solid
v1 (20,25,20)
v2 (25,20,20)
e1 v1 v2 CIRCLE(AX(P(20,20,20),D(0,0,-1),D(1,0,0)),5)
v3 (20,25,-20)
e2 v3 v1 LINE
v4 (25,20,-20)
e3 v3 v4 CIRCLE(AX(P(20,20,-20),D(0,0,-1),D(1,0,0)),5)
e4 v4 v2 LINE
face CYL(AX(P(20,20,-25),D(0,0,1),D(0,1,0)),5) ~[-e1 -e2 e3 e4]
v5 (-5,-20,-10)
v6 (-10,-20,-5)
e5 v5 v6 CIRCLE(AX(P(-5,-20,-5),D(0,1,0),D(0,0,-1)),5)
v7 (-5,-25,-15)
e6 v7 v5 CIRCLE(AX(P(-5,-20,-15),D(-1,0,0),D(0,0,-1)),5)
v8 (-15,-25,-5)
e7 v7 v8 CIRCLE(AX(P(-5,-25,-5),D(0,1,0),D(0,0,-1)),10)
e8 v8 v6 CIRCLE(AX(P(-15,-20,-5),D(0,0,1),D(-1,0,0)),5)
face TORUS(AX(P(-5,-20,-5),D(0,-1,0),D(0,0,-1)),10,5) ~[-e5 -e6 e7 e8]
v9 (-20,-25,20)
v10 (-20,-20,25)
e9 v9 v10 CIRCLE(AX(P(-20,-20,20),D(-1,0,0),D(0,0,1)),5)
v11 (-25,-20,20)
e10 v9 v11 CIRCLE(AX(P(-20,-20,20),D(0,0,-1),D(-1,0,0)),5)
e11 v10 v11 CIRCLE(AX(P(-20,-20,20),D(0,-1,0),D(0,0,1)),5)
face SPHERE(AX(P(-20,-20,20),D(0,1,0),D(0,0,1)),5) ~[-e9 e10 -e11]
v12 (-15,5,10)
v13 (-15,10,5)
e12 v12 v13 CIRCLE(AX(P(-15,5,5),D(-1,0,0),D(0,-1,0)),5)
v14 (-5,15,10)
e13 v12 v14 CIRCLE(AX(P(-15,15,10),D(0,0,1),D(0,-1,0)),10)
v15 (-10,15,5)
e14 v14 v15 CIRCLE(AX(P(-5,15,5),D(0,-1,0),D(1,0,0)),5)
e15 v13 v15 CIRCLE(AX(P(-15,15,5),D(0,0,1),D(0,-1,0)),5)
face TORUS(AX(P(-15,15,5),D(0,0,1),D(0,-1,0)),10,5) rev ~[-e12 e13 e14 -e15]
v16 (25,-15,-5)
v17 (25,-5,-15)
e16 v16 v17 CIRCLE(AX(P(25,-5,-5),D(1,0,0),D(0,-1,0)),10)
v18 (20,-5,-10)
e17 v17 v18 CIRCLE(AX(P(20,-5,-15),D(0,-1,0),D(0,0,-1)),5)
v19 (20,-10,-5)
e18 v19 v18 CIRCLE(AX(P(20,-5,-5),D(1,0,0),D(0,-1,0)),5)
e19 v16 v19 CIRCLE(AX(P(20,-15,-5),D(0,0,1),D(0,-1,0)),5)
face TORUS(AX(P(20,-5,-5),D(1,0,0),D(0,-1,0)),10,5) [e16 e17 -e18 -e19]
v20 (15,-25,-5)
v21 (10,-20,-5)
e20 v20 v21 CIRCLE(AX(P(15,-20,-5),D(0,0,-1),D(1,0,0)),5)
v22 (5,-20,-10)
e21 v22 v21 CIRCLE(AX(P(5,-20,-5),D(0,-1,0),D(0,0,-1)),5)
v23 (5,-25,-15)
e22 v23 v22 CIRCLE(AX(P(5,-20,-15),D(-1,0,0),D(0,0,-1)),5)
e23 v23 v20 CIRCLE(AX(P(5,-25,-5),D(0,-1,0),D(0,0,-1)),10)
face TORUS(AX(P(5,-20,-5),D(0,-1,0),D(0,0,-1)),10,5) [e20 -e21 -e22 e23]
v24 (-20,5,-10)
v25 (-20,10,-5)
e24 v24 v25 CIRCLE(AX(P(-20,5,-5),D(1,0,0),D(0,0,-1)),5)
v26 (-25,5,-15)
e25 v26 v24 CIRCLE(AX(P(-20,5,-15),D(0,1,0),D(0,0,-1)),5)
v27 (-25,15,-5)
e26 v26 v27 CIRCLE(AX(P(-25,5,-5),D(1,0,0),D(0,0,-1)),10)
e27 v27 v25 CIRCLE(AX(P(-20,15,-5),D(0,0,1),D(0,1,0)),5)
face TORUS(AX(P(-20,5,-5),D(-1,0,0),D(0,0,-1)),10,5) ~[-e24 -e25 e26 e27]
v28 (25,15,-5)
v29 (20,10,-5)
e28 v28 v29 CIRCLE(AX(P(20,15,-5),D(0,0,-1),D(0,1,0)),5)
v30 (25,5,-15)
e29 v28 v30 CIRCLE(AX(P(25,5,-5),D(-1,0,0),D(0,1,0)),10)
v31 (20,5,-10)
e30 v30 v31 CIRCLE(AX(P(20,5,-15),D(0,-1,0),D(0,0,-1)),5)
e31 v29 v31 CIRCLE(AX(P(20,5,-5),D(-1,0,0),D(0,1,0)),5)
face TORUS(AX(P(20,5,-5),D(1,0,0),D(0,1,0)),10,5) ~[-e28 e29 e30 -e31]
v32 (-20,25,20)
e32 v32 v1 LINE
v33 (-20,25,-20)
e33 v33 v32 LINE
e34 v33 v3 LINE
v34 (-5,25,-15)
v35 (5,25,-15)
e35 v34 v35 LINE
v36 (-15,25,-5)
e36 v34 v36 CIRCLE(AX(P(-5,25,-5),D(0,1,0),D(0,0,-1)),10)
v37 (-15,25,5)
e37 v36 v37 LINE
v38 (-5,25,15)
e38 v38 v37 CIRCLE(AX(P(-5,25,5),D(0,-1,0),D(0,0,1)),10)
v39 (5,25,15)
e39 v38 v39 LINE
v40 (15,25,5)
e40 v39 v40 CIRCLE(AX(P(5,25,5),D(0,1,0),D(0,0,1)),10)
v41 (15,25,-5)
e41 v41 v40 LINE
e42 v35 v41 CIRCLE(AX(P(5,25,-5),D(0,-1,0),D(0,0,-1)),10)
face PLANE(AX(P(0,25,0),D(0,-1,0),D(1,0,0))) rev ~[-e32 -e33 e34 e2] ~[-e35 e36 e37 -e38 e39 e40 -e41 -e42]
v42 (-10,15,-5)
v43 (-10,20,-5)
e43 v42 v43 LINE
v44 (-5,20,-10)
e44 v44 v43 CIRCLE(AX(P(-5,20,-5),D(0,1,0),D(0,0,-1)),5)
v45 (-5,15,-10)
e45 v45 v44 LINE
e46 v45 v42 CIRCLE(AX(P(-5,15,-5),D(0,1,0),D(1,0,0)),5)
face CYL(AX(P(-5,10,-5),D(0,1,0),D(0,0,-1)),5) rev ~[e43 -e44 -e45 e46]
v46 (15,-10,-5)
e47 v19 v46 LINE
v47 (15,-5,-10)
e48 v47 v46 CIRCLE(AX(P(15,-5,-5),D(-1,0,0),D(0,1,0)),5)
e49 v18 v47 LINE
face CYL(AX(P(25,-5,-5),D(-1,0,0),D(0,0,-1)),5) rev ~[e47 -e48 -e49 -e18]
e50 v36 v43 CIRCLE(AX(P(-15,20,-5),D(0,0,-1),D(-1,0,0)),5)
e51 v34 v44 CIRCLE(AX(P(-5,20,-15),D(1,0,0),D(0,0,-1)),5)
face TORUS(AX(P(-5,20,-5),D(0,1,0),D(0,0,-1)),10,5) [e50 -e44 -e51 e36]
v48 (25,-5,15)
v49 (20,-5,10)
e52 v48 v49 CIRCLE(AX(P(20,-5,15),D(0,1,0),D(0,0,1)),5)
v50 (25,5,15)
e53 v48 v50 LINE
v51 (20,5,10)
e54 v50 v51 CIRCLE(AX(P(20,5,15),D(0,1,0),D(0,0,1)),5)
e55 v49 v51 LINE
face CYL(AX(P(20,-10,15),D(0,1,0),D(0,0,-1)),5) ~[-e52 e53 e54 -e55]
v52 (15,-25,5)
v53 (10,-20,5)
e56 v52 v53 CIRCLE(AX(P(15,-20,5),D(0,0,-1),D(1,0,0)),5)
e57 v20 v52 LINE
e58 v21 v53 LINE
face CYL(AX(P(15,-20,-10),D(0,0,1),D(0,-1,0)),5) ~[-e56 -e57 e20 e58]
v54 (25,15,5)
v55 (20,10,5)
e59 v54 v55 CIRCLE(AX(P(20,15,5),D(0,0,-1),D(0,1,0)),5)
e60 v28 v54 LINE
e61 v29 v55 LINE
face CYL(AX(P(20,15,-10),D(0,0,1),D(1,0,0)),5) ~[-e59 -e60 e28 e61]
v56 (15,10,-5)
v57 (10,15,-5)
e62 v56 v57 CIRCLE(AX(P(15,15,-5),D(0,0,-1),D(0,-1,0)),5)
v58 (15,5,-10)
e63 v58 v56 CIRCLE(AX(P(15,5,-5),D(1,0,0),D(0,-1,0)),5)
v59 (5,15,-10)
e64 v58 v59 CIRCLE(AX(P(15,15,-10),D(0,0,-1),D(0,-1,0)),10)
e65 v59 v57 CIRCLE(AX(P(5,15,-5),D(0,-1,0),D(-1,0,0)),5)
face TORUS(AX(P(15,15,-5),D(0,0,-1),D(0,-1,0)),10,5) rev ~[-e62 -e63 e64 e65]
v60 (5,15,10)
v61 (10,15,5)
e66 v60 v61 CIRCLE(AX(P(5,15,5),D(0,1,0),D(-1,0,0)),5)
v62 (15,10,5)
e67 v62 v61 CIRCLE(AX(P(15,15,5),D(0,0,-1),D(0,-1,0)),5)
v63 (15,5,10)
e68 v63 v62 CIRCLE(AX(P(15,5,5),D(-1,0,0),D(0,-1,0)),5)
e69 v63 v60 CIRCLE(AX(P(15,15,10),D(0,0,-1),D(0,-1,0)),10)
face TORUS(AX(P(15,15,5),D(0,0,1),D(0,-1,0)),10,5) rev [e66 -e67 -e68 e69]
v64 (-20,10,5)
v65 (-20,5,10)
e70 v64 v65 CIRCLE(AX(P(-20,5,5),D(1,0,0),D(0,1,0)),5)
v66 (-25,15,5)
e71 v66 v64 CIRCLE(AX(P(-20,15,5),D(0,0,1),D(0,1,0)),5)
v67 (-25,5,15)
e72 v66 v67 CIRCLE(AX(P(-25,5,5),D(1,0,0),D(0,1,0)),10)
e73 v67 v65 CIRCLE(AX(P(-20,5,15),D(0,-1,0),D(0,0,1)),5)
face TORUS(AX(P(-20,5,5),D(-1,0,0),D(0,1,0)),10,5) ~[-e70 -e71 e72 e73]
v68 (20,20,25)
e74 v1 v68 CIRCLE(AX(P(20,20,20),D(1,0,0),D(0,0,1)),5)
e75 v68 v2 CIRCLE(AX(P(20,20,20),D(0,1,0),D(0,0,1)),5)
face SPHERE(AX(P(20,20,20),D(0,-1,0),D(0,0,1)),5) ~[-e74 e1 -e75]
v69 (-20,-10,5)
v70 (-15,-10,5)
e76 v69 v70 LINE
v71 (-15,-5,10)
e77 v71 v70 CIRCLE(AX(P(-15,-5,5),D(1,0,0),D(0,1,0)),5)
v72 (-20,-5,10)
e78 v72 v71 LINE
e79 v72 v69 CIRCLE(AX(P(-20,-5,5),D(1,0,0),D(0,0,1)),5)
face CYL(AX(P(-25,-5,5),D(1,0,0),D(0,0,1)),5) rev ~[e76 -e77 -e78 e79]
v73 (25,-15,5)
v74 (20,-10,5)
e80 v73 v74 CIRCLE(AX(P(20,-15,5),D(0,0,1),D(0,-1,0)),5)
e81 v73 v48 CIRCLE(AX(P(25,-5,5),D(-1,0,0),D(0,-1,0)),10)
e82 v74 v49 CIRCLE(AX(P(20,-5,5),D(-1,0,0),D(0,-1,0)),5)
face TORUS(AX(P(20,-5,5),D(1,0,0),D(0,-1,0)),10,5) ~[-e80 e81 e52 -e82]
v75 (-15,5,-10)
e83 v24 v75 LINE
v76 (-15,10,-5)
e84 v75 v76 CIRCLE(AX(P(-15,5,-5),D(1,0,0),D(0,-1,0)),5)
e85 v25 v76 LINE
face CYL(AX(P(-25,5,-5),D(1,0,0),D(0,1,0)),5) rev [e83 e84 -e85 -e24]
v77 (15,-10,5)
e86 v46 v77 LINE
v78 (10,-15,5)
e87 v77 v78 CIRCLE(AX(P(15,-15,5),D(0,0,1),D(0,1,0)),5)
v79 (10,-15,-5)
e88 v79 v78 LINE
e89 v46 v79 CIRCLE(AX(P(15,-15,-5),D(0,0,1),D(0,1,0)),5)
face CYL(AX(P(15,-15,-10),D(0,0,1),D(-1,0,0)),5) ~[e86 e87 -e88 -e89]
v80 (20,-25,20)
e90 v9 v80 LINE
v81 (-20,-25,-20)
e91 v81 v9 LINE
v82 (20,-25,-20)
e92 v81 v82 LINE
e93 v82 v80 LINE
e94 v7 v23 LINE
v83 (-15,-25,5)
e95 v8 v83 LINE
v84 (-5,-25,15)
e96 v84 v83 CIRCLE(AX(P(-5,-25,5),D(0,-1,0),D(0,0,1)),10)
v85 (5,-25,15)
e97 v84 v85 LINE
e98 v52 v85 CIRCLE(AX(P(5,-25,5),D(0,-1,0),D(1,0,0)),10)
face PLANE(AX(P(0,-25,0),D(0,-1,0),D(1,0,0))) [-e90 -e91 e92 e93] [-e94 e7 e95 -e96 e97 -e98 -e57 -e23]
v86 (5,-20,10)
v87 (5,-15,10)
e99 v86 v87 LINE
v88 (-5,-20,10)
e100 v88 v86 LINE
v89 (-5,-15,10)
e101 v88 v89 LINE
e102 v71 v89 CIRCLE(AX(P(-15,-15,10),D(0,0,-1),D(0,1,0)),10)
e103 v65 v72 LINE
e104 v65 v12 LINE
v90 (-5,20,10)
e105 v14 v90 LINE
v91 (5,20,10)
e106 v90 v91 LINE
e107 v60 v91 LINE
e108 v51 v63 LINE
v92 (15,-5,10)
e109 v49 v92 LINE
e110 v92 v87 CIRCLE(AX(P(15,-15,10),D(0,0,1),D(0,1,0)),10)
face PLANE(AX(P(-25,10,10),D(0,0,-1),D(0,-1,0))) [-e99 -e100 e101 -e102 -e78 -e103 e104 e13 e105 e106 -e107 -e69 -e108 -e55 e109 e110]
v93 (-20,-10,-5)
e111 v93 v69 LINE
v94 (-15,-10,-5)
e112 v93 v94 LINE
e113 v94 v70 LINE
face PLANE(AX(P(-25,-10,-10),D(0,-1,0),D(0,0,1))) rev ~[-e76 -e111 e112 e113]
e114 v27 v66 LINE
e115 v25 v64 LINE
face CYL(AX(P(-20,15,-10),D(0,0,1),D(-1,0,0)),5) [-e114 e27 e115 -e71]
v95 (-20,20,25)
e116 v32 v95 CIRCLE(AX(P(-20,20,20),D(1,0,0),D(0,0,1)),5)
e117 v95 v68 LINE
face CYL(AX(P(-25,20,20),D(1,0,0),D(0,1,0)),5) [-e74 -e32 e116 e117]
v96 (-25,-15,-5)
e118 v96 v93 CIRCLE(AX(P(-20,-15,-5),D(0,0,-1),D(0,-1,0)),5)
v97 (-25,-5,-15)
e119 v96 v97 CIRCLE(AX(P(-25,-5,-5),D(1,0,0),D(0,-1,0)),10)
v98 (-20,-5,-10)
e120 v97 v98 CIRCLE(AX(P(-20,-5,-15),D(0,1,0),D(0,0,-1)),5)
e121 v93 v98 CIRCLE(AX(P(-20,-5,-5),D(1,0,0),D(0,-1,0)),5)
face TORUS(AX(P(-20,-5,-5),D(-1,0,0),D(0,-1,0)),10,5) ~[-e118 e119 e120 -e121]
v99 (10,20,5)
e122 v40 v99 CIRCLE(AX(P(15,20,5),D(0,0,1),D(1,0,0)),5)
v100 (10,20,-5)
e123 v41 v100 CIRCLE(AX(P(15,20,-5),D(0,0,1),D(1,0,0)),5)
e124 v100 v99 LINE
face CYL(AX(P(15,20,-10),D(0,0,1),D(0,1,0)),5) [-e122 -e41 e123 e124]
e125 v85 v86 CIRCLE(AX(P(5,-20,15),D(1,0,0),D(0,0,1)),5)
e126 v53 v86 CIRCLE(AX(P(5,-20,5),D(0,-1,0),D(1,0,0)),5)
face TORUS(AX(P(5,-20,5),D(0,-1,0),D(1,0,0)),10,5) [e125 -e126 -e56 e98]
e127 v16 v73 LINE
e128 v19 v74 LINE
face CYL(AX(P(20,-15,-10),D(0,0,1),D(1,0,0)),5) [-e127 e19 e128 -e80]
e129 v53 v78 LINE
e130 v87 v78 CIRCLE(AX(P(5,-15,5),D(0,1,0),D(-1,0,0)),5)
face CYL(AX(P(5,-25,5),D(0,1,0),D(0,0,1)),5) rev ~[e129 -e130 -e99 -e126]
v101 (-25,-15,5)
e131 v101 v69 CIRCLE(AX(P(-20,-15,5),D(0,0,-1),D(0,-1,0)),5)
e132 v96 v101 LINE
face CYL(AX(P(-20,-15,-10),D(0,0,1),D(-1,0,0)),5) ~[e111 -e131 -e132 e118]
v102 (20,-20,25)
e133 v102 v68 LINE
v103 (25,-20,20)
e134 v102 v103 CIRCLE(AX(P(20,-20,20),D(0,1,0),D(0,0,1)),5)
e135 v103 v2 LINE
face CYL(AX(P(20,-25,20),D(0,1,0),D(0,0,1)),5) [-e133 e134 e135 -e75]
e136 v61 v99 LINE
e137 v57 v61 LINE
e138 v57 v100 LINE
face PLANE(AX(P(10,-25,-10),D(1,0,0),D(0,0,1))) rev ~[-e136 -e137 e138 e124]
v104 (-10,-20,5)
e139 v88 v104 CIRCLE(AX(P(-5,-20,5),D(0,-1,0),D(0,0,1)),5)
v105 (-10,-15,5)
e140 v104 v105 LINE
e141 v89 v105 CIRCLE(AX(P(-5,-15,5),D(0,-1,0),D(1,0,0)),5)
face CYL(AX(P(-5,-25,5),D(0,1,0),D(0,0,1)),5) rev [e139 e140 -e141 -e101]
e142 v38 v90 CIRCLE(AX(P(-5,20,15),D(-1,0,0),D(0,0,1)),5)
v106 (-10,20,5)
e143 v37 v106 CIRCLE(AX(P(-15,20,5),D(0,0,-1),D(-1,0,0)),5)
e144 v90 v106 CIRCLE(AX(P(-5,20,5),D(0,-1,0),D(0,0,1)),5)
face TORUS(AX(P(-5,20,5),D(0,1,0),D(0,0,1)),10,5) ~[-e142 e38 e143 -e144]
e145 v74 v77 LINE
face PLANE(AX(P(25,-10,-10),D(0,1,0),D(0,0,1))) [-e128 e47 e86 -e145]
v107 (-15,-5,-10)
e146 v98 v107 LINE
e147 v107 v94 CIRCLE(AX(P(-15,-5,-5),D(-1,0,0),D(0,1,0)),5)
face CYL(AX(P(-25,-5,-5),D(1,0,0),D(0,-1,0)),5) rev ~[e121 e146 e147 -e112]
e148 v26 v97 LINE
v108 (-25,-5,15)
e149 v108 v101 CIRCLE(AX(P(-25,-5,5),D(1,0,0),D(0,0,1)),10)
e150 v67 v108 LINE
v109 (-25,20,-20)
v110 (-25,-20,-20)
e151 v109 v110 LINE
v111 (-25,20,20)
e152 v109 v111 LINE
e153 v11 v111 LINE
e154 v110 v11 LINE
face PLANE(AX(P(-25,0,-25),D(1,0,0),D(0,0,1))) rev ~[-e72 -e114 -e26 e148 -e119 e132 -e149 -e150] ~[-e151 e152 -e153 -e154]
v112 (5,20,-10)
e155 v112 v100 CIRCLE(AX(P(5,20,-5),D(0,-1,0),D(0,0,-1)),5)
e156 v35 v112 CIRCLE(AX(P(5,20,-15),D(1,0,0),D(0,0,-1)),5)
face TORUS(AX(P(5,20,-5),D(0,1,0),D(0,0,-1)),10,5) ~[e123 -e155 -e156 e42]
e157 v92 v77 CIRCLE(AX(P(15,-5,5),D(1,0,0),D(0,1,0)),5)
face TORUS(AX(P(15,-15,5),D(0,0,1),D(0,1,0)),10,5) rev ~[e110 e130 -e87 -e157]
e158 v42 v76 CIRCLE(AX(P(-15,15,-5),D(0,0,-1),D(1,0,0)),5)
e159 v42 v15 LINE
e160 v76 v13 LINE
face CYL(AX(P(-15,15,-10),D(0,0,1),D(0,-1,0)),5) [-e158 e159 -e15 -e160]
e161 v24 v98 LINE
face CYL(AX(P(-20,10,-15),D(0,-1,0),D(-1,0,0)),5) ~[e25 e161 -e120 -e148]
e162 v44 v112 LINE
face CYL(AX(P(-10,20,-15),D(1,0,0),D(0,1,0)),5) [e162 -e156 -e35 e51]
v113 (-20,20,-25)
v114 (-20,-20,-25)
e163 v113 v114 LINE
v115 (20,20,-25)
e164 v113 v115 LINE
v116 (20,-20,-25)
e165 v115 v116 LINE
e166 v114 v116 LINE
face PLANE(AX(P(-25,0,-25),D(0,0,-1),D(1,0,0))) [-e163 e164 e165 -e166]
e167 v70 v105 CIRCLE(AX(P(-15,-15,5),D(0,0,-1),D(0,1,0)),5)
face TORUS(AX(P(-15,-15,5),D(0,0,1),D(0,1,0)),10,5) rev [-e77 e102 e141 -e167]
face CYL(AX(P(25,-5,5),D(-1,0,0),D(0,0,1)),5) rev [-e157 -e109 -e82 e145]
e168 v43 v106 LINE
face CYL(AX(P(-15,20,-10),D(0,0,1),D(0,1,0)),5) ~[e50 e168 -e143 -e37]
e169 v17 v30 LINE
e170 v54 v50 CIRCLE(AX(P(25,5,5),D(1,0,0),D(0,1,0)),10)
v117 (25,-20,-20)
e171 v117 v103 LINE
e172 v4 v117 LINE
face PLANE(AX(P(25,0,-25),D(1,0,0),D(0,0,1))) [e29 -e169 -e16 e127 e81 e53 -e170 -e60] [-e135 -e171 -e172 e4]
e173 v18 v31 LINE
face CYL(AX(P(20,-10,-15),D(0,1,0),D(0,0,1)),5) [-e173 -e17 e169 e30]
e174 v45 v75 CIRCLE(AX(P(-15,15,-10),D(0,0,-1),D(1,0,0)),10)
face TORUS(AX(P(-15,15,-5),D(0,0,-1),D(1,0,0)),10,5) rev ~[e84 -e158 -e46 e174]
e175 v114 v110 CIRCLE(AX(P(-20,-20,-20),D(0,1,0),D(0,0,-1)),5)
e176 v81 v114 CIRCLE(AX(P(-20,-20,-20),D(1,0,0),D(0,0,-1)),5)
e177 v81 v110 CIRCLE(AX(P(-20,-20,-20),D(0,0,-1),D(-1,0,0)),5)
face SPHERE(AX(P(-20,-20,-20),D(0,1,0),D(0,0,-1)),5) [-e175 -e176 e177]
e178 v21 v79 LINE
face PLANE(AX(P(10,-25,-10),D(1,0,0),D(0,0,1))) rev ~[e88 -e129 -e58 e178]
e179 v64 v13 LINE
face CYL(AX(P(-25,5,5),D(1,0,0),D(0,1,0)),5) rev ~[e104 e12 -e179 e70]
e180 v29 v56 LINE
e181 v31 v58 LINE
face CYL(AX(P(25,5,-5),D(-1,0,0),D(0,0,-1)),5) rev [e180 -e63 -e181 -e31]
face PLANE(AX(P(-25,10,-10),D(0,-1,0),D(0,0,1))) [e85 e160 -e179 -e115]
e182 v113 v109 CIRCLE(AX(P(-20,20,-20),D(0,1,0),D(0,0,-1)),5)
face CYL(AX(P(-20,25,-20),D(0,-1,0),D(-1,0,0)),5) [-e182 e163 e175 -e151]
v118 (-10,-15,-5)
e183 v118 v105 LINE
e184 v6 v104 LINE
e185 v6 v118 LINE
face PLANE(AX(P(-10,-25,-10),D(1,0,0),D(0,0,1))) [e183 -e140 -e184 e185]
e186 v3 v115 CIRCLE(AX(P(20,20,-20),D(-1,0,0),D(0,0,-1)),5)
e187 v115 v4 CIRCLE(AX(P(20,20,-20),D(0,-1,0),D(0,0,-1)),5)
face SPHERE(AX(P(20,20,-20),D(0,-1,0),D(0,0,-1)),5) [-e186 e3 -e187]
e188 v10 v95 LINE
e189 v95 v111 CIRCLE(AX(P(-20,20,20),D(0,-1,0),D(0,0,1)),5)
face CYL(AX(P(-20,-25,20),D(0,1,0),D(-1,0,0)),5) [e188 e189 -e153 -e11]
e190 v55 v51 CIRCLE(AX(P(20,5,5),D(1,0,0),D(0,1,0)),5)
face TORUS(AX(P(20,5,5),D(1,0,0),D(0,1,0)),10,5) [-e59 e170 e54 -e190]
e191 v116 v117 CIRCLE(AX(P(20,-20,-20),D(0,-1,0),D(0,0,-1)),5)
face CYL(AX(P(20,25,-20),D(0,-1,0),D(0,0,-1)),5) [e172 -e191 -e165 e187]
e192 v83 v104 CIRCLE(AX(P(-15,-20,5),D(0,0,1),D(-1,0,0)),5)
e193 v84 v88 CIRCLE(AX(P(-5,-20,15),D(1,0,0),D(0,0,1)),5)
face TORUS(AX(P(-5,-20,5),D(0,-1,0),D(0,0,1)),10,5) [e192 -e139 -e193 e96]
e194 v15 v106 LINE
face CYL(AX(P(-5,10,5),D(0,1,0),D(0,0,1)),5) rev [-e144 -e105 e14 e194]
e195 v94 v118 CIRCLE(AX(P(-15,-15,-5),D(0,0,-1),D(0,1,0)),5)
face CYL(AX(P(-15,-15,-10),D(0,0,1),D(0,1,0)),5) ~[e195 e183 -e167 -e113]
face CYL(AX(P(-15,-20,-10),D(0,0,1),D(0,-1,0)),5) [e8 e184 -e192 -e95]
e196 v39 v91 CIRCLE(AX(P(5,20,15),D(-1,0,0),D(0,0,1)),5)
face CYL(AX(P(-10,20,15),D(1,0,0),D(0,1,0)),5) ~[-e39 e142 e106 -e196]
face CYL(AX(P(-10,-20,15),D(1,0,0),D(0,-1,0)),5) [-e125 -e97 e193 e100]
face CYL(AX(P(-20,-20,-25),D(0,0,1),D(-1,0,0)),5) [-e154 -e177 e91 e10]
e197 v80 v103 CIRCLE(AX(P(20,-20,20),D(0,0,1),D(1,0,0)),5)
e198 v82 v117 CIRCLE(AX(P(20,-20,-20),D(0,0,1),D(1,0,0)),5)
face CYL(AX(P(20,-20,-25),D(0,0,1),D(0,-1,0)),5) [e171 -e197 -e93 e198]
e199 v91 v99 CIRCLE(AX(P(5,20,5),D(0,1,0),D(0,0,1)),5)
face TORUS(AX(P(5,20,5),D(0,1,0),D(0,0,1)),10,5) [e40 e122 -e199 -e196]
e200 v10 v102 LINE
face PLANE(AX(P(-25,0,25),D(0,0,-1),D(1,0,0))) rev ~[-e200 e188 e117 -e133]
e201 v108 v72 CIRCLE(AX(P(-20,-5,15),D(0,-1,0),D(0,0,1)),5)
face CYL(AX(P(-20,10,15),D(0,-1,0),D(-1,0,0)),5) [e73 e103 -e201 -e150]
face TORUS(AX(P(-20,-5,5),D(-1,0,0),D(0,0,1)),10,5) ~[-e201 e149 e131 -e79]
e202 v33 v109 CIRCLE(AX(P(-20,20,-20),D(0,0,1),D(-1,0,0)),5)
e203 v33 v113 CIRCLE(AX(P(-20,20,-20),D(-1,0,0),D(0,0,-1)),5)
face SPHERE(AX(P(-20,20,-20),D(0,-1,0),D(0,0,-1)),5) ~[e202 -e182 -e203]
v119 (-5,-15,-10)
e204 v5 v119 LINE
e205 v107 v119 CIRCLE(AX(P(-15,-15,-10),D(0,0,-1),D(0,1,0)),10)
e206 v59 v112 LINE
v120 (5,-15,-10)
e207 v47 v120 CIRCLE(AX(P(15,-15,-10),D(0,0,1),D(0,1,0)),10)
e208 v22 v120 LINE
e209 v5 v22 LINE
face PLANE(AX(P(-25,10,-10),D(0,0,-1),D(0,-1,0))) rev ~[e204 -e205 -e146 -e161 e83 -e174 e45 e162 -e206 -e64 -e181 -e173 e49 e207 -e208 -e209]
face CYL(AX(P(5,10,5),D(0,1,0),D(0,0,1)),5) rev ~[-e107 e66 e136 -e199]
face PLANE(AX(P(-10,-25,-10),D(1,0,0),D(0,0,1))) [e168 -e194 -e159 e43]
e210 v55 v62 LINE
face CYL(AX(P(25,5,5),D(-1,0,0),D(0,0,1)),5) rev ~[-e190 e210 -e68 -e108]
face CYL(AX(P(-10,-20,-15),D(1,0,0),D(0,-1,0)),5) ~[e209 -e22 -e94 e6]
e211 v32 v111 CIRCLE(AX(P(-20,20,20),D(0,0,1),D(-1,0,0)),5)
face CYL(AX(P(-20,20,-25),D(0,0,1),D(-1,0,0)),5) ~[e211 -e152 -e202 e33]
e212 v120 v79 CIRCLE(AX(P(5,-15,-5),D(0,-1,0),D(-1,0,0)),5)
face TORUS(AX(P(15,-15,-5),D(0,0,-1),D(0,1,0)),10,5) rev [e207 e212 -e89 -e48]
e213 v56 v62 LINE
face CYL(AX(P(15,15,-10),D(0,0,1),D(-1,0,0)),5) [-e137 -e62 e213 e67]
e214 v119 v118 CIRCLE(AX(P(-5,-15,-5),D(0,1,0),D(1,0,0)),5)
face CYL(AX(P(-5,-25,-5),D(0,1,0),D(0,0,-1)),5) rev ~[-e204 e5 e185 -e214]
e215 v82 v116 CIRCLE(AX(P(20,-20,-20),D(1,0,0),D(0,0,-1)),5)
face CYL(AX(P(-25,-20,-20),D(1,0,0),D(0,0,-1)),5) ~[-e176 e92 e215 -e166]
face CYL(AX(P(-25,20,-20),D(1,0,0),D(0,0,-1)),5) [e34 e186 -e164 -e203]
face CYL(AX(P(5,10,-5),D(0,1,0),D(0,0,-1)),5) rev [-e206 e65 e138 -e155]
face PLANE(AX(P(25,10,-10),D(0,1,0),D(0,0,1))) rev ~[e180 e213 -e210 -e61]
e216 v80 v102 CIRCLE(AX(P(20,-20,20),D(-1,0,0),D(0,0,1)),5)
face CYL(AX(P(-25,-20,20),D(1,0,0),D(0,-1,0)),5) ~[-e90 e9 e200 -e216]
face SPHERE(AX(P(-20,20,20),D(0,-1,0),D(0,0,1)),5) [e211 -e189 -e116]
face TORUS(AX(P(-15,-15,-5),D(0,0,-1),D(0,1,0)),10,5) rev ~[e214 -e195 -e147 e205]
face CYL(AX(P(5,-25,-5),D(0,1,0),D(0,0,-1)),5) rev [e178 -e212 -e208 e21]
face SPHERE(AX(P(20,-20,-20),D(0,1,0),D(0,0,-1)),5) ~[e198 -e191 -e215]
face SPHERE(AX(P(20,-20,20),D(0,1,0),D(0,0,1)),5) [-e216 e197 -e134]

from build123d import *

# Parameters (mm, degrees)
F0_W          = 50
F0_H          = 50
F1_DEPTH      = 25
F1_DEPTH_BACK = 25
F2_W          = 20
F2_H          = 20
F3_DEPTH      = 50
F4_W          = 20
F4_H          = 20
F5_DEPTH      = 15
F6_W          = 20
F6_H          = 20
F7_DEPTH      = 15
F8_R          = 5


with BuildPart() as f1:
    # F0 (on Front) → F1 (new body, two sides)
    with BuildSketch(Plane.XZ) as f1_sk:
        Rectangle(F0_W, F0_H)
    extrude(amount=F1_DEPTH)
    extrude(f1_sk.sketch, amount=-F1_DEPTH_BACK)

    # F2 (on face) → F3 (cut, through all)
    with BuildSketch(Plane.XZ.offset(25)):
        Rectangle(F2_W, F2_H)
    extrude(amount=-F3_DEPTH, mode=Mode.SUBTRACT)

    # F4 (on face) → F5 (cut, through all)
    with BuildSketch(Plane(origin=(-25, 0, 0), x_dir=(0, -1, 0), z_dir=(-1, 0, 0))):
        Rectangle(F4_W, F4_H)
    extrude(amount=-F5_DEPTH, mode=Mode.SUBTRACT)

    # F6 (on face) → F7 (cut, through all)
    with BuildSketch(Plane.YZ.offset(25)):
        Rectangle(F6_W, F6_H)
    extrude(amount=-F7_DEPTH, mode=Mode.SUBTRACT)

    # F8
    f8_edges = [f1.edges().sort_by_distance(p)[0] for p in [
        (-25, 0, 25),
        (25, 0, 25),
        (0, 25, 10),
        (-25, 0, -25),
        (25, 0, -25),
        (0, -25, 25),
        (0, -25, -25),
        (0, 25, 25),
        (0, 25, -25),
        (25, 25, 0),
        (25, -25, 0),
        (-25, 25, 0),
        (-25, -25, 0),
        (0, 25, -10),
        (10, 25, 0),
        (-10, 25, 0),
        (10, -10, 0),
        (-17.5, 10, 10),
        (0, -25, 10),
        (0, -25, -10),
        (-10, -25, 0),
        (-25, 10, 0),
        (-17.5, -10, -10),
        (-17.5, 10, -10),
        (10, 10, 0),
        (17.5, -10, 10),
        (17.5, 10, 10),
        (17.5, -10, -10),
        (17.5, 10, -10),
        (25, -10, 0),
        (25, 10, 0),
        (-17.5, -10, 10),
        (-10, -17.5, 10),
        (10, -17.5, 10),
        (25, 0, 10),
        (10, 17.5, 10),
        (-10, 17.5, 10),
        (-25, 0, 10),
        (-10, 10, 0),
        (10, -25, 0),
        (-10, 17.5, -10),
        (-25, -10, 0),
        (-25, 0, -10),
        (10, 17.5, -10),
        (25, 0, -10),
        (10, -17.5, -10),
        (-10, -17.5, -10),
        (-10, -10, 0),
    ]]
    fillet(f8_edges, radius=F8_R)


solid = f1.part
